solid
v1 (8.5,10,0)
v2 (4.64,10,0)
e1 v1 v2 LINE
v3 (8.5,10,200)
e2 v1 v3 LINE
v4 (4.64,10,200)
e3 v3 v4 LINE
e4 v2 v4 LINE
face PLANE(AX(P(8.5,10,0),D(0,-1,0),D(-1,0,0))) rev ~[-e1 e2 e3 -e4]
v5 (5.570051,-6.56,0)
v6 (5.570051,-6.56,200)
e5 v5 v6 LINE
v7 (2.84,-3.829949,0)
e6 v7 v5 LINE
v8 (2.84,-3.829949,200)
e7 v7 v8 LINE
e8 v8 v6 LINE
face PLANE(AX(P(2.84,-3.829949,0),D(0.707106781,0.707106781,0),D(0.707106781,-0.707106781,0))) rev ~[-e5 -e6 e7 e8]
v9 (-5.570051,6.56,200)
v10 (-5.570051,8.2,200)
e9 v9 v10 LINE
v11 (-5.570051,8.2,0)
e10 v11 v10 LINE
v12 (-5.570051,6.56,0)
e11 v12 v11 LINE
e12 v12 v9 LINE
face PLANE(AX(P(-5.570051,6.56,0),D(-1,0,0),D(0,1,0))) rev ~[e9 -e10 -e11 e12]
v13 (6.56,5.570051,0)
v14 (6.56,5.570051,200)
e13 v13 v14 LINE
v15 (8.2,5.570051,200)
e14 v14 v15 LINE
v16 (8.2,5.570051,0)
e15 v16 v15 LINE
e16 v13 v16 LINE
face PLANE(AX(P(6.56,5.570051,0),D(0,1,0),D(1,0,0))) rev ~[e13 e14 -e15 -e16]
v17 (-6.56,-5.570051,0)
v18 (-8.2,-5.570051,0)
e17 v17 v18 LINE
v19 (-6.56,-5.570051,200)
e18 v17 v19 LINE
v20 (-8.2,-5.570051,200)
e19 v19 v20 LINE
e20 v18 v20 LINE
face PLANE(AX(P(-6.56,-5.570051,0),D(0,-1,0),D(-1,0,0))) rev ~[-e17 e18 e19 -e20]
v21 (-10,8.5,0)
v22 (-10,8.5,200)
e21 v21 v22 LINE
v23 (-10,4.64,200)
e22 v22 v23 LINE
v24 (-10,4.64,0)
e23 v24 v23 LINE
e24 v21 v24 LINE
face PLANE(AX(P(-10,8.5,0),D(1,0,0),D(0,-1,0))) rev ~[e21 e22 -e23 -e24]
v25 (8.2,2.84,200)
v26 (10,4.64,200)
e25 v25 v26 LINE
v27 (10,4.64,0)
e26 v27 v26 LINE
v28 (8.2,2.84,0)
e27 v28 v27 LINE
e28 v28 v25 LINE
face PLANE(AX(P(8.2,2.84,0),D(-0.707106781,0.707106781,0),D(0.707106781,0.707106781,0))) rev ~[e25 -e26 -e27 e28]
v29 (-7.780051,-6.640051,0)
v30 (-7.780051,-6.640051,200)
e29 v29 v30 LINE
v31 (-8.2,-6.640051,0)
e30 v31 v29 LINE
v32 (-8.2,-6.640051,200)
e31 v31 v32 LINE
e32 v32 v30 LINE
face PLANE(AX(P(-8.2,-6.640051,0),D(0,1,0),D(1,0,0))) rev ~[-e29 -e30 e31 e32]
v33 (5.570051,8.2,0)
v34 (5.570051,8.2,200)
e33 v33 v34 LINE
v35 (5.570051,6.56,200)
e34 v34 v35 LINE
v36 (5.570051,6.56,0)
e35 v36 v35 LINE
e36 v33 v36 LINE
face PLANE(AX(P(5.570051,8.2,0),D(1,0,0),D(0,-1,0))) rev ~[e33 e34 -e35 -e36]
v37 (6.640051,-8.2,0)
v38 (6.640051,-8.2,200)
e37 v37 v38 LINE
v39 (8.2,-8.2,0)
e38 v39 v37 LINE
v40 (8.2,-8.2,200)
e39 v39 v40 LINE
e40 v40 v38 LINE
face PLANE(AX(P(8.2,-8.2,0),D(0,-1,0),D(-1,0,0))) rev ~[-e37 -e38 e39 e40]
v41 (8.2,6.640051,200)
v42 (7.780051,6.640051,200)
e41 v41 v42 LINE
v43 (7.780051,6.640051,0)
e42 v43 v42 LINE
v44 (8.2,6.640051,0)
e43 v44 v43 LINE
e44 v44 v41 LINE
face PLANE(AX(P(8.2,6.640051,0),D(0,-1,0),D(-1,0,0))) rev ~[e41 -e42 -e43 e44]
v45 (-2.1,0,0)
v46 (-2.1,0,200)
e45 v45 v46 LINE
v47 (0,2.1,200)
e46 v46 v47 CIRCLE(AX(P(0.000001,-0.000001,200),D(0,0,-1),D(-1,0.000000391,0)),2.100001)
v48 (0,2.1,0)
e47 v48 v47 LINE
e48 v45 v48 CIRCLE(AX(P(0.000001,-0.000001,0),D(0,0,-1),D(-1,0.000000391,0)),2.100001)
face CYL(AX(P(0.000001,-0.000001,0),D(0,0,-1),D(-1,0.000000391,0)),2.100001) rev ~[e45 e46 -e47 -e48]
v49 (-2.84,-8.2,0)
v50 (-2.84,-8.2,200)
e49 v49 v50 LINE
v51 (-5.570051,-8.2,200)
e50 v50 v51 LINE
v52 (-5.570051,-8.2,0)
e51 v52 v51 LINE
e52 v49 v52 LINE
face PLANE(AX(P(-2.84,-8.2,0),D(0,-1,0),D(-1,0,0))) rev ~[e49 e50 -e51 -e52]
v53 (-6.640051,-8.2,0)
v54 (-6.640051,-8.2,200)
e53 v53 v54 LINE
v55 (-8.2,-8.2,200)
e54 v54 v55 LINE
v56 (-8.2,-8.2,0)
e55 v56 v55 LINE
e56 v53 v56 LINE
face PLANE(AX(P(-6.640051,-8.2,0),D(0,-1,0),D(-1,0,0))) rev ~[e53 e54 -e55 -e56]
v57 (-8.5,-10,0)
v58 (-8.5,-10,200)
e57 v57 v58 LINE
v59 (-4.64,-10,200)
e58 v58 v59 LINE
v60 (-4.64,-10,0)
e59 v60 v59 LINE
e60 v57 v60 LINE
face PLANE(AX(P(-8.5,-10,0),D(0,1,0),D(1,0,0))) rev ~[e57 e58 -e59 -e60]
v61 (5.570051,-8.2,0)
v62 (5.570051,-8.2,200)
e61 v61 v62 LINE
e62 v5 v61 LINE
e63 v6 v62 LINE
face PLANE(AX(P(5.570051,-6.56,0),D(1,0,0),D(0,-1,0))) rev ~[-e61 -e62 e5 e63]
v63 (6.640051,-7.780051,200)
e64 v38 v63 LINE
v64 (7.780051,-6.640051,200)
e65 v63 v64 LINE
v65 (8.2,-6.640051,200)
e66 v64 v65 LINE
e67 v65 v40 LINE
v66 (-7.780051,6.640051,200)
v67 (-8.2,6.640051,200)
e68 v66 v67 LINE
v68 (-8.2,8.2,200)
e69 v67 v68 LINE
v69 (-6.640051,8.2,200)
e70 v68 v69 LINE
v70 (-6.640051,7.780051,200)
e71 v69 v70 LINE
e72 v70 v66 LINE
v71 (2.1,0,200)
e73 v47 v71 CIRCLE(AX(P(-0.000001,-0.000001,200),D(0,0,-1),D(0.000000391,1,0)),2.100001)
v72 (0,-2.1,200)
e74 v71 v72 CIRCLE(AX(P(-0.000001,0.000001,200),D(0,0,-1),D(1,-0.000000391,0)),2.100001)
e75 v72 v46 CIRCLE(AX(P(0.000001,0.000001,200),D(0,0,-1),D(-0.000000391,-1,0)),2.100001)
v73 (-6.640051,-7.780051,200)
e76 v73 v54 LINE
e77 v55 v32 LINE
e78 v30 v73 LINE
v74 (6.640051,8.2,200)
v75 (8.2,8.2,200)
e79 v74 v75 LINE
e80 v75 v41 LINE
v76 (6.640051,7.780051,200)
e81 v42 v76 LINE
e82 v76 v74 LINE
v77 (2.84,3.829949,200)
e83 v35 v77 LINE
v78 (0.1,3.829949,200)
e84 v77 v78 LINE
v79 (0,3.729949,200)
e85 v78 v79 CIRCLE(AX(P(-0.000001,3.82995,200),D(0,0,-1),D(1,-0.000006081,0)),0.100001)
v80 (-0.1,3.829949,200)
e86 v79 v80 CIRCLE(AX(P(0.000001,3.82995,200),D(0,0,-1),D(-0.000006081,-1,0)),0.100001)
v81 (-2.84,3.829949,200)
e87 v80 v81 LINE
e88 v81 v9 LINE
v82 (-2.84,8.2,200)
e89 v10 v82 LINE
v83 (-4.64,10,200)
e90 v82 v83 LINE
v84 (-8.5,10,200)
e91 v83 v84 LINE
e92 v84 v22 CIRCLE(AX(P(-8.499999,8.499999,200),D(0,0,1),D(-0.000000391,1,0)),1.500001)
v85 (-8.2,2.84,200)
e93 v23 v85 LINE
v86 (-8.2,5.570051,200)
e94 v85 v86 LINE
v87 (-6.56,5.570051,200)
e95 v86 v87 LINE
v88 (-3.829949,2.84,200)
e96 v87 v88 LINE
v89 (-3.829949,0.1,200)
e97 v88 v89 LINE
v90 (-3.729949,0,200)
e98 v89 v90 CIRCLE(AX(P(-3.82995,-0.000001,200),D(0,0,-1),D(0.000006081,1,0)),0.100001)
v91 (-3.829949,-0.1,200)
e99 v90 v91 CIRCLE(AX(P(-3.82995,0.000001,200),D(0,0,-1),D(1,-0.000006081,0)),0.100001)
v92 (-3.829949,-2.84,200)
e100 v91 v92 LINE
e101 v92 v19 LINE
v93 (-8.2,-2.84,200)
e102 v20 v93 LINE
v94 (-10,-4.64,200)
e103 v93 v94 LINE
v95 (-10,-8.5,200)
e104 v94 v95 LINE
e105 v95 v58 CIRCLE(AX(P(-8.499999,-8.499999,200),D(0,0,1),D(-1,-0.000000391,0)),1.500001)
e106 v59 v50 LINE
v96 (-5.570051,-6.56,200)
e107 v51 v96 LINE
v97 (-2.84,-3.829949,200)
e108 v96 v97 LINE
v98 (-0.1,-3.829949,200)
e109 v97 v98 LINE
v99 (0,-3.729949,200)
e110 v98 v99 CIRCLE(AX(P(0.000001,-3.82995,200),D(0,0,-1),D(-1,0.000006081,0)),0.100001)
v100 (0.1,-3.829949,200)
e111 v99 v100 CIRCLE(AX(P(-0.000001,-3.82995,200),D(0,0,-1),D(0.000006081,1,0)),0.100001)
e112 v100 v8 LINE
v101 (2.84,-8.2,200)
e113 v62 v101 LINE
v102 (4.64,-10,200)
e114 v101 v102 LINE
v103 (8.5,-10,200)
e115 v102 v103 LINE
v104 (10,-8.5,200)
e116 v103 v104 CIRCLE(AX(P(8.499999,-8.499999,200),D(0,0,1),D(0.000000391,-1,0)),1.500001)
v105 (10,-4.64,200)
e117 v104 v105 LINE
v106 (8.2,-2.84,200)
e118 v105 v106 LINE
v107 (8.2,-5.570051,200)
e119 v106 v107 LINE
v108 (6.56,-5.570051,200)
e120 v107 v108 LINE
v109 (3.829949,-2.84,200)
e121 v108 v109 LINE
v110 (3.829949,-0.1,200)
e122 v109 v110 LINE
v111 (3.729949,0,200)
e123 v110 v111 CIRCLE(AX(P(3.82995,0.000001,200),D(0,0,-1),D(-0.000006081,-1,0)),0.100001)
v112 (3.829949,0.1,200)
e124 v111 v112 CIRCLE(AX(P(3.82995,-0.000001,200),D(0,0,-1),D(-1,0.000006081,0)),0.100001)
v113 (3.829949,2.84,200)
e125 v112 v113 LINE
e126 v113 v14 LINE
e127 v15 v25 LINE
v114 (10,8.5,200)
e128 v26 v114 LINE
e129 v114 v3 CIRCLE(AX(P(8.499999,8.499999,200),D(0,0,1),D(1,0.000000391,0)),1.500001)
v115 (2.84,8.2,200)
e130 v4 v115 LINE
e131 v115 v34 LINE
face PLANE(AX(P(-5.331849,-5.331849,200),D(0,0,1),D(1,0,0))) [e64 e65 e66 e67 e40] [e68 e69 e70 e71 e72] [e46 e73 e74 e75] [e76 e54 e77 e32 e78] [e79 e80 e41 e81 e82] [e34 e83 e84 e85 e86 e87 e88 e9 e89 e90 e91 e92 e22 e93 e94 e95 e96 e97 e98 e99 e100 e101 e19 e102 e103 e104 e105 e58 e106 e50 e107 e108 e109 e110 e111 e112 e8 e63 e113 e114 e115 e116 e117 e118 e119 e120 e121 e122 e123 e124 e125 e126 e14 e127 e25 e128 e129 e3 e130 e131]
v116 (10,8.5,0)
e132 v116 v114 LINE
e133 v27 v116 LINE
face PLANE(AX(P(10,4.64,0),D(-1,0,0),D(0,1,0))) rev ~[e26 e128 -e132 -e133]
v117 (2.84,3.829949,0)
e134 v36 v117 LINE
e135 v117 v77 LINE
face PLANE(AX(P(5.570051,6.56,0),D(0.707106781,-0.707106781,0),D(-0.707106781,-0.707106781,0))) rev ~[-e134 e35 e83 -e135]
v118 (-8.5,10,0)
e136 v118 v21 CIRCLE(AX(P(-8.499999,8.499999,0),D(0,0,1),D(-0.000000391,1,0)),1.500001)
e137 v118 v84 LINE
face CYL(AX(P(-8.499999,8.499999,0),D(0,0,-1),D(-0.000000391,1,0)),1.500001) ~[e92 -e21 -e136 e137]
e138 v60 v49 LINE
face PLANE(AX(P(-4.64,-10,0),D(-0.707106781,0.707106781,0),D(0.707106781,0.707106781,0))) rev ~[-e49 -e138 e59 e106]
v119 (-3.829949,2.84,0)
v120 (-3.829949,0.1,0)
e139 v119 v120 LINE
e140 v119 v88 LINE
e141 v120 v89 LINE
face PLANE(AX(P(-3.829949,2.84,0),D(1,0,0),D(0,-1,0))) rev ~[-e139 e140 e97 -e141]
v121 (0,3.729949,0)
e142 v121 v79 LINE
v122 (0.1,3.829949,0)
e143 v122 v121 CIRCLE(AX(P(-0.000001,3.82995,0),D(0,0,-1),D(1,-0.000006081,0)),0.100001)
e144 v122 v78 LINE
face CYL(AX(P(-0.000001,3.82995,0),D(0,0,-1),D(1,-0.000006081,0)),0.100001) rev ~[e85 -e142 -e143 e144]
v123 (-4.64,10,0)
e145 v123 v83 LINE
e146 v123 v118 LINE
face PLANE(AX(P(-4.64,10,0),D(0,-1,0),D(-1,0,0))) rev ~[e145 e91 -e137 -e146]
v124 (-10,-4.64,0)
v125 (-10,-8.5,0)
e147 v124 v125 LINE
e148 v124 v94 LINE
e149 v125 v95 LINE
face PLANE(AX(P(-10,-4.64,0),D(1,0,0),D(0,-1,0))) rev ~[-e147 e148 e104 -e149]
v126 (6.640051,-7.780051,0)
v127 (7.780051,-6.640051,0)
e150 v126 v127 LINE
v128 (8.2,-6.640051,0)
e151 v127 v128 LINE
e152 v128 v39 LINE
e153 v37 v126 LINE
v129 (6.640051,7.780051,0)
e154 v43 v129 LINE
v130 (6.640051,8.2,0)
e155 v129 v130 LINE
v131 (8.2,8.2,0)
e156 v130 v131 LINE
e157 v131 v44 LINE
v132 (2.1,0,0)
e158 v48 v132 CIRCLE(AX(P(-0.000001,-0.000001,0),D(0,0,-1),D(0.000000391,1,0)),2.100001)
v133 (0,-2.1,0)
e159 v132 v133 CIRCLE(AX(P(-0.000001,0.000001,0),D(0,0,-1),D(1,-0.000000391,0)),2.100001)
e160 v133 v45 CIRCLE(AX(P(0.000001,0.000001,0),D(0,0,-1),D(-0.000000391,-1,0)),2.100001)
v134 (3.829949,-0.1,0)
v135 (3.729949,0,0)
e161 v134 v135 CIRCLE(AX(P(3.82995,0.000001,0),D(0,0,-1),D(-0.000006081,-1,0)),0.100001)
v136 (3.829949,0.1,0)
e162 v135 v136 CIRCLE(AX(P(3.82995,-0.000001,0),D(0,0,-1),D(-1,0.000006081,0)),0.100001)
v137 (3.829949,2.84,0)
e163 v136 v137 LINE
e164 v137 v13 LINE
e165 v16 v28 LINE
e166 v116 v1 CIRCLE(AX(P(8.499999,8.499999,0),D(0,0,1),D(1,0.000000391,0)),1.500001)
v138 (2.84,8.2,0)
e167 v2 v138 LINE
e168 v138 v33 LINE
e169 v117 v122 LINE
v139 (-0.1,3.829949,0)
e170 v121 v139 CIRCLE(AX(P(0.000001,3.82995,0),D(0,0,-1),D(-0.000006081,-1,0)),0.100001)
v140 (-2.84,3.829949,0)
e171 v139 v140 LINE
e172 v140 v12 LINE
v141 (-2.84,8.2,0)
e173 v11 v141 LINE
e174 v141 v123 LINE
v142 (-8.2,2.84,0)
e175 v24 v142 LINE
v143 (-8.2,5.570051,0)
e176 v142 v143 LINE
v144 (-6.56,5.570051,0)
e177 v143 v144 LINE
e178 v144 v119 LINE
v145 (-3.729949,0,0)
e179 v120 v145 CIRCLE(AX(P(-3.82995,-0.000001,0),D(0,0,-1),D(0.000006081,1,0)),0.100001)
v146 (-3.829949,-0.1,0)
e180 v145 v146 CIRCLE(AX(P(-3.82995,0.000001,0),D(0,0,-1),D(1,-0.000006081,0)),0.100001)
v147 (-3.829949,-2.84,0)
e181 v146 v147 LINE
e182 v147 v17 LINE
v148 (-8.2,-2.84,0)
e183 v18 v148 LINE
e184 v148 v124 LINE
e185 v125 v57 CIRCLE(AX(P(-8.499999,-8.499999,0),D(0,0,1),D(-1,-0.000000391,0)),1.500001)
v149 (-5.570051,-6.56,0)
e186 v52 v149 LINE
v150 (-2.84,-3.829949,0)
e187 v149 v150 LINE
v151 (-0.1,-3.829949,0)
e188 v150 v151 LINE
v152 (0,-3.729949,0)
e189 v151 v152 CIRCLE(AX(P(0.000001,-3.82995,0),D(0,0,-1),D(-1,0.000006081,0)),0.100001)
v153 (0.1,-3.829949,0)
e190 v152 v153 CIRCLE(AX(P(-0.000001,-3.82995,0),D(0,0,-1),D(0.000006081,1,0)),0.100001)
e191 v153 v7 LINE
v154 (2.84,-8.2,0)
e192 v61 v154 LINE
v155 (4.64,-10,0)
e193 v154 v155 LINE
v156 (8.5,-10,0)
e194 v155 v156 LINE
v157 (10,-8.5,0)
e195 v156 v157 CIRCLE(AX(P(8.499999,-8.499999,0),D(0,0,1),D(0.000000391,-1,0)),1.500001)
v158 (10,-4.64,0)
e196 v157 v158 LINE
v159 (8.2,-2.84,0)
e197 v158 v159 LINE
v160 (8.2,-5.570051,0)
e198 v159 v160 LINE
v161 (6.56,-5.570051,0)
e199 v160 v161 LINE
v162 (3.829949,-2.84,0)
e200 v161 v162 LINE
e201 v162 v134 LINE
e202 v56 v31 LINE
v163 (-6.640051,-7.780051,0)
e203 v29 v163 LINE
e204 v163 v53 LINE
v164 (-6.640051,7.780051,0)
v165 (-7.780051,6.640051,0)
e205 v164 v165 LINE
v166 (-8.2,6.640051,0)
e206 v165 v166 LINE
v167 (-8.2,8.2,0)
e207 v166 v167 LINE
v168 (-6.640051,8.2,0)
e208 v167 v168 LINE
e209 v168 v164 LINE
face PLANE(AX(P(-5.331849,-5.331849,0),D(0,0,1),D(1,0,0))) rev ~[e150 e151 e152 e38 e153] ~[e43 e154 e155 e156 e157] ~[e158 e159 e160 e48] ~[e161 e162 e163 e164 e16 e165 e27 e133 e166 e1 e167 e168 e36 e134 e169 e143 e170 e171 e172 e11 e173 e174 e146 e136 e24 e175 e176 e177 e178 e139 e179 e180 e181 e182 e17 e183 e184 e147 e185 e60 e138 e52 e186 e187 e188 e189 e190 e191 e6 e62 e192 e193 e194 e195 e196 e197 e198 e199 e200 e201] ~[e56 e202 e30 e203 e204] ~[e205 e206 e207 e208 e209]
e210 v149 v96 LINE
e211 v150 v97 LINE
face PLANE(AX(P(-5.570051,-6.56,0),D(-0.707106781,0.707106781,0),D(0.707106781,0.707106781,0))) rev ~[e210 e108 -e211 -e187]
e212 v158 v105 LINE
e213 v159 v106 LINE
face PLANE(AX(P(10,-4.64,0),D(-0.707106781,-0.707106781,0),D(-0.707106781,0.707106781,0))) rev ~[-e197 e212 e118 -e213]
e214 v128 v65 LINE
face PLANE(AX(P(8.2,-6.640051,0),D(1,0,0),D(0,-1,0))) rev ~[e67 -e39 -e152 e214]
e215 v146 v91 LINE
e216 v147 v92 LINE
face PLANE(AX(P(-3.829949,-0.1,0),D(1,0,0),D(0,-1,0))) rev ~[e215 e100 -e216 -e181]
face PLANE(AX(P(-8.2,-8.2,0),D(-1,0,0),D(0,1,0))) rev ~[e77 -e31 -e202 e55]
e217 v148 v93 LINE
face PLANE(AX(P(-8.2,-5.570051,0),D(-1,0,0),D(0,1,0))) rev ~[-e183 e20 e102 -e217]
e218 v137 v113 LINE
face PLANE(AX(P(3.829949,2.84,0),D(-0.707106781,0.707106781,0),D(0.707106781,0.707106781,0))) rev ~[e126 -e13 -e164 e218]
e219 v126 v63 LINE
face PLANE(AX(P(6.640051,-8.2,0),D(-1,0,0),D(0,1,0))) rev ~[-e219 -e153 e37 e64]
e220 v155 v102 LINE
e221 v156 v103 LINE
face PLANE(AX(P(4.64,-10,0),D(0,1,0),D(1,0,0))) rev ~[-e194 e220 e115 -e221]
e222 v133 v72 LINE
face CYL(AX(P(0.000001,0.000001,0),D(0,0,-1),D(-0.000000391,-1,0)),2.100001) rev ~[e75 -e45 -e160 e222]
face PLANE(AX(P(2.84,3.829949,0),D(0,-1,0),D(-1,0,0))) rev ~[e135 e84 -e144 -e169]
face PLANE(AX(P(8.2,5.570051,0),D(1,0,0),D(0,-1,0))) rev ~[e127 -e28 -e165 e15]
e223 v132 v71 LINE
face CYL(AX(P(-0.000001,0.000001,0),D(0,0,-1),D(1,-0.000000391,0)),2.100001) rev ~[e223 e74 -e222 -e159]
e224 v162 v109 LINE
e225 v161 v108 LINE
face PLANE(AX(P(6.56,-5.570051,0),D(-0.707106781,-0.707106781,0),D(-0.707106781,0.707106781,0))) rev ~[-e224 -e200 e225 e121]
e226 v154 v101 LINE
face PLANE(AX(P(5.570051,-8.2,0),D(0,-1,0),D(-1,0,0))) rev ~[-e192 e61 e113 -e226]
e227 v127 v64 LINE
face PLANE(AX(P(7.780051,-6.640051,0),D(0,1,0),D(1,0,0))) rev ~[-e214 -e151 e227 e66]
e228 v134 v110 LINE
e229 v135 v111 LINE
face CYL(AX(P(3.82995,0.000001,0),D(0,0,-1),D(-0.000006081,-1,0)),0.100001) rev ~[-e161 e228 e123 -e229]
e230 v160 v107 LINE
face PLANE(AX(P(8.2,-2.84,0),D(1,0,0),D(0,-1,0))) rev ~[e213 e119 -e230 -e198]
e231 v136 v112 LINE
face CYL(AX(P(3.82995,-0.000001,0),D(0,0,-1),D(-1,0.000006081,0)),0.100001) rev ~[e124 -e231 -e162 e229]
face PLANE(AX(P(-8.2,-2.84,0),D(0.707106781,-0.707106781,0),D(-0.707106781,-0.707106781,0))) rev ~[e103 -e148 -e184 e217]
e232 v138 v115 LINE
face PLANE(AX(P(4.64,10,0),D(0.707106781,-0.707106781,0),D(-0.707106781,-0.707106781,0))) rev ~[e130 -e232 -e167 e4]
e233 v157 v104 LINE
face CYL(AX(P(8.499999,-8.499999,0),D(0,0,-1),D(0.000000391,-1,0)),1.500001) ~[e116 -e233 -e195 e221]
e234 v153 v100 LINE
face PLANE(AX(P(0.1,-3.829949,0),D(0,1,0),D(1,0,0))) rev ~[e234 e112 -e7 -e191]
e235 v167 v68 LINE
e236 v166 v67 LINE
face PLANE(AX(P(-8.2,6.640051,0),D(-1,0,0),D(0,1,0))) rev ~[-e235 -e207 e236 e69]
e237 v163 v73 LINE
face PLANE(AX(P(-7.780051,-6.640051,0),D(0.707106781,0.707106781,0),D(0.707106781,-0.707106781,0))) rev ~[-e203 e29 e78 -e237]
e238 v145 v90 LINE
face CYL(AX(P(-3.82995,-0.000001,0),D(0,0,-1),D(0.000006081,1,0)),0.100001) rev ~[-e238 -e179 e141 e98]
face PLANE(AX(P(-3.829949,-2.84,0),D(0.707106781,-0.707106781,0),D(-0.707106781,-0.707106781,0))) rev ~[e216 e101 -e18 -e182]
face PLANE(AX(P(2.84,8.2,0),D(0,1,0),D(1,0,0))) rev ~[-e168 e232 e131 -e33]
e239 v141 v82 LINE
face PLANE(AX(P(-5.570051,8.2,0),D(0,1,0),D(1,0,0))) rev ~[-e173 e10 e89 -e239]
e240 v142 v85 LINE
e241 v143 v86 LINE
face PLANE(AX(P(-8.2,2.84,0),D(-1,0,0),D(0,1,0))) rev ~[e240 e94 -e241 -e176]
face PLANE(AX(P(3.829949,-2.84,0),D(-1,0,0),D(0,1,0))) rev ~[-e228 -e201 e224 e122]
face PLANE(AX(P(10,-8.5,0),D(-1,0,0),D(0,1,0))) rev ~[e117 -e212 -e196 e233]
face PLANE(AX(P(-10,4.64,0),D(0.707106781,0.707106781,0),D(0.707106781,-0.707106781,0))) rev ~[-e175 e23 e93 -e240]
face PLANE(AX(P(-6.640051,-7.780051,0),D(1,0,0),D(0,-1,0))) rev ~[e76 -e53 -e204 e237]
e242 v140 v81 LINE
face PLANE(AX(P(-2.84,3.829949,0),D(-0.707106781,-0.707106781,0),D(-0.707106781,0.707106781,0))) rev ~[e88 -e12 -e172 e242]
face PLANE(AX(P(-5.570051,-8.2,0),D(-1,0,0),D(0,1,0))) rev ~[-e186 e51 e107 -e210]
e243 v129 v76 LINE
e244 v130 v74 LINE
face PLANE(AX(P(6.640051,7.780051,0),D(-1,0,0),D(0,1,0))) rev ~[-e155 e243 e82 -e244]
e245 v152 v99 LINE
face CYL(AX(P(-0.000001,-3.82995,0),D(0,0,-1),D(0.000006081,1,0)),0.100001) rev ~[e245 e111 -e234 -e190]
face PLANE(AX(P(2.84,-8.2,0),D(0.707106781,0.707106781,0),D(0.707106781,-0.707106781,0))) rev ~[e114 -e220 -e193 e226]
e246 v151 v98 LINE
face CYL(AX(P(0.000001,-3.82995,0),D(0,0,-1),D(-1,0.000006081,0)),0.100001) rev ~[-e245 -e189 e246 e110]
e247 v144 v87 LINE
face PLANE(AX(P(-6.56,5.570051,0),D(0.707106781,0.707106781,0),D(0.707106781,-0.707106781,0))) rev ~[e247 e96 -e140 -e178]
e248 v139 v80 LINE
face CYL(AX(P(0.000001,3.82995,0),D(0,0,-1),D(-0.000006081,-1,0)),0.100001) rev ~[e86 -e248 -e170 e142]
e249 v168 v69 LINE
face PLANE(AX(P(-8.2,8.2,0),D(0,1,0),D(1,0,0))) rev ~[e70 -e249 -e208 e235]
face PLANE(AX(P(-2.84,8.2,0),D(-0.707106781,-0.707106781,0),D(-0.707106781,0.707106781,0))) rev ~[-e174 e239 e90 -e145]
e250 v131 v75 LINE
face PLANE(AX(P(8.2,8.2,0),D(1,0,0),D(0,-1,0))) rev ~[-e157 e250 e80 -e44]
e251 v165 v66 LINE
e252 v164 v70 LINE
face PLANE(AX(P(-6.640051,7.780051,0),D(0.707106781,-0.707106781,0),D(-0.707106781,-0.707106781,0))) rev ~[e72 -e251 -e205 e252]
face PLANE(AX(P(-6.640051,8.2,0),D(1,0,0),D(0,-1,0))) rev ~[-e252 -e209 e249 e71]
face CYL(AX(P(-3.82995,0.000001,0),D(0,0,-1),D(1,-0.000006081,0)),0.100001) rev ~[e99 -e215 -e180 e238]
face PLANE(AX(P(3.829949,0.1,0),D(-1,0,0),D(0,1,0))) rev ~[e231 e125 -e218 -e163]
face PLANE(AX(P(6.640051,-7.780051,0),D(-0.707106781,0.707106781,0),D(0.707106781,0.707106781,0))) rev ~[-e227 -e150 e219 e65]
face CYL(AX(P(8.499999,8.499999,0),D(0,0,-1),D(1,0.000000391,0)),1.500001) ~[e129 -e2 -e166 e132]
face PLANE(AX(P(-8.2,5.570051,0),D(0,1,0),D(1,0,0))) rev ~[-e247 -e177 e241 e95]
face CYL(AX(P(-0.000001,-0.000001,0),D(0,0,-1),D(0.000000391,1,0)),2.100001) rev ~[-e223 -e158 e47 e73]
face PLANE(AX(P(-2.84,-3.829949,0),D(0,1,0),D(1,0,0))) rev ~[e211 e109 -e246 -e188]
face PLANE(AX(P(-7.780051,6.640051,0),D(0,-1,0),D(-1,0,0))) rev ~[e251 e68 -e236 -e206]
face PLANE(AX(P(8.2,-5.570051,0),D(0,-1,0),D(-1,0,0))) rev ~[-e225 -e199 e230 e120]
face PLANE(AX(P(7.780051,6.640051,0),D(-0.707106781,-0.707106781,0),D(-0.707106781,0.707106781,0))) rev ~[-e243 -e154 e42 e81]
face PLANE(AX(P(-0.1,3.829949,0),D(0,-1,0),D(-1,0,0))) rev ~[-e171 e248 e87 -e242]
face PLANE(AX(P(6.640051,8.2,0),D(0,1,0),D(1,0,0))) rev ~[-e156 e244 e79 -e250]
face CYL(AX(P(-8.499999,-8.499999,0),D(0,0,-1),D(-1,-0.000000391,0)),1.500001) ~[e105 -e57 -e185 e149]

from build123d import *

# Parameters (mm, degrees)
F1_DEPTH = 200


with BuildPart() as f1:
    # F0 (on Top) → F1 (new body)
    with BuildSketch(Plane.XY):
        with BuildLine():
            Line((0, -3.729949), (0, -2.1))
            ThreePointArc((0, -2.1), (-1.484924, -1.484924), (-2.1, 0))
            Line((-2.1, 0), (-3.729949, 0))
            ThreePointArc((-3.729949, 0), (-3.759239, -0.070711), (-3.829949, -0.1))
            Line((-3.829949, -0.1), (-3.829949, -2.84))
            Line((-3.829949, -2.84), (-6.56, -5.570051))
            Line((-6.56, -5.570051), (-8.2, -5.570051))
            Line((-8.2, -5.570051), (-8.2, -2.84))
            Line((-8.2, -2.84), (-10, -4.64))
            Line((-10, -4.64), (-10, -8.5))
            ThreePointArc((-10, -8.5), (-9.56066, -9.56066), (-8.5, -10))
            Line((-8.5, -10), (-4.64, -10))
            Line((-4.64, -10), (-2.84, -8.2))
            Line((-2.84, -8.2), (-5.570051, -8.2))
            Line((-5.570051, -8.2), (-5.570051, -6.56))
            Line((-5.570051, -6.56), (-2.84, -3.829949))
            Line((-2.84, -3.829949), (-0.1, -3.829949))
            ThreePointArc((-0.1, -3.829949), (-0.070711, -3.759239), (0, -3.729949))
        make_face()
        Polygon((-7.780051, -6.640051), (-6.640051, -7.780051), (-6.640051, -8.2), (-8.2, -8.2), (-8.2, -6.640051), align=None, mode=Mode.SUBTRACT)
        with BuildLine():
            ThreePointArc((-2.1, 0), (-1.484924, 1.484924), (0, 2.1))
            Line((0, 2.1), (0, 3.729949))
            ThreePointArc((0, 3.729949), (-0.070711, 3.759239), (-0.1, 3.829949))
            Line((-0.1, 3.829949), (-2.84, 3.829949))
            Line((-2.84, 3.829949), (-5.570051, 6.56))
            Line((-5.570051, 6.56), (-5.570051, 8.2))
            Line((-5.570051, 8.2), (-2.84, 8.2))
            Line((-2.84, 8.2), (-4.64, 10))
            Line((-4.64, 10), (-8.5, 10))
            ThreePointArc((-8.5, 10), (-9.56066, 9.56066), (-10, 8.5))
            Line((-10, 8.5), (-10, 4.64))
            Line((-10, 4.64), (-8.2, 2.84))
            Line((-8.2, 2.84), (-8.2, 5.570051))
            Line((-8.2, 5.570051), (-6.56, 5.570051))
            Line((-6.56, 5.570051), (-3.829949, 2.84))
            Line((-3.829949, 2.84), (-3.829949, 0.1))
            ThreePointArc((-3.829949, 0.1), (-3.759239, 0.070711), (-3.729949, 0))
            Line((-3.729949, 0), (-2.1, 0))
        make_face()
        Polygon((-6.640051, 7.780051), (-7.780051, 6.640051), (-8.2, 6.640051), (-8.2, 8.2), (-6.640051, 8.2), align=None, mode=Mode.SUBTRACT)
        with BuildLine():
            Line((3.729949, 0), (2.1, 0))
            ThreePointArc((2.1, 0), (1.484924, -1.484924), (0, -2.1))
            Line((0, -2.1), (0, -3.729949))
            ThreePointArc((0, -3.729949), (0.070711, -3.759239), (0.1, -3.829949))
            Line((0.1, -3.829949), (2.84, -3.829949))
            Line((2.84, -3.829949), (5.570051, -6.56))
            Line((5.570051, -6.56), (5.570051, -8.2))
            Line((5.570051, -8.2), (2.84, -8.2))
            Line((2.84, -8.2), (4.64, -10))
            Line((4.64, -10), (8.5, -10))
            ThreePointArc((8.5, -10), (9.56066, -9.56066), (10, -8.5))
            Line((10, -8.5), (10, -4.64))
            Line((10, -4.64), (8.2, -2.84))
            Line((8.2, -2.84), (8.2, -5.570051))
            Line((8.2, -5.570051), (6.56, -5.570051))
            Line((6.56, -5.570051), (3.829949, -2.84))
            Line((3.829949, -2.84), (3.829949, -0.1))
            ThreePointArc((3.829949, -0.1), (3.759239, -0.070711), (3.729949, 0))
        make_face()
        Polygon((6.640051, -7.780051), (7.780051, -6.640051), (8.2, -6.640051), (8.2, -8.2), (6.640051, -8.2), align=None, mode=Mode.SUBTRACT)
        with BuildLine():
            ThreePointArc((0, 2.1), (1.484924, 1.484924), (2.1, 0))
            Line((2.1, 0), (3.729949, 0))
            ThreePointArc((3.729949, 0), (3.759239, 0.070711), (3.829949, 0.1))
            Line((3.829949, 0.1), (3.829949, 2.84))
            Line((3.829949, 2.84), (6.56, 5.570051))
            Line((6.56, 5.570051), (8.2, 5.570051))
            Line((8.2, 5.570051), (8.2, 2.84))
            Line((8.2, 2.84), (10, 4.64))
            Line((10, 4.64), (10, 8.5))
            ThreePointArc((10, 8.5), (9.56066, 9.56066), (8.5, 10))
            Line((8.5, 10), (4.64, 10))
            Line((4.64, 10), (2.84, 8.2))
            Line((2.84, 8.2), (5.570051, 8.2))
            Line((5.570051, 8.2), (5.570051, 6.56))
            Line((5.570051, 6.56), (2.84, 3.829949))
            Line((2.84, 3.829949), (0.1, 3.829949))
            ThreePointArc((0.1, 3.829949), (0.070711, 3.759239), (0, 3.729949))
            Line((0, 3.729949), (0, 2.1))
        make_face()
        Polygon((6.640051, 8.2), (8.2, 8.2), (8.2, 6.640051), (7.780051, 6.640051), (6.640051, 7.780051), align=None, mode=Mode.SUBTRACT)
    extrude(amount=F1_DEPTH)


solid = f1.part
